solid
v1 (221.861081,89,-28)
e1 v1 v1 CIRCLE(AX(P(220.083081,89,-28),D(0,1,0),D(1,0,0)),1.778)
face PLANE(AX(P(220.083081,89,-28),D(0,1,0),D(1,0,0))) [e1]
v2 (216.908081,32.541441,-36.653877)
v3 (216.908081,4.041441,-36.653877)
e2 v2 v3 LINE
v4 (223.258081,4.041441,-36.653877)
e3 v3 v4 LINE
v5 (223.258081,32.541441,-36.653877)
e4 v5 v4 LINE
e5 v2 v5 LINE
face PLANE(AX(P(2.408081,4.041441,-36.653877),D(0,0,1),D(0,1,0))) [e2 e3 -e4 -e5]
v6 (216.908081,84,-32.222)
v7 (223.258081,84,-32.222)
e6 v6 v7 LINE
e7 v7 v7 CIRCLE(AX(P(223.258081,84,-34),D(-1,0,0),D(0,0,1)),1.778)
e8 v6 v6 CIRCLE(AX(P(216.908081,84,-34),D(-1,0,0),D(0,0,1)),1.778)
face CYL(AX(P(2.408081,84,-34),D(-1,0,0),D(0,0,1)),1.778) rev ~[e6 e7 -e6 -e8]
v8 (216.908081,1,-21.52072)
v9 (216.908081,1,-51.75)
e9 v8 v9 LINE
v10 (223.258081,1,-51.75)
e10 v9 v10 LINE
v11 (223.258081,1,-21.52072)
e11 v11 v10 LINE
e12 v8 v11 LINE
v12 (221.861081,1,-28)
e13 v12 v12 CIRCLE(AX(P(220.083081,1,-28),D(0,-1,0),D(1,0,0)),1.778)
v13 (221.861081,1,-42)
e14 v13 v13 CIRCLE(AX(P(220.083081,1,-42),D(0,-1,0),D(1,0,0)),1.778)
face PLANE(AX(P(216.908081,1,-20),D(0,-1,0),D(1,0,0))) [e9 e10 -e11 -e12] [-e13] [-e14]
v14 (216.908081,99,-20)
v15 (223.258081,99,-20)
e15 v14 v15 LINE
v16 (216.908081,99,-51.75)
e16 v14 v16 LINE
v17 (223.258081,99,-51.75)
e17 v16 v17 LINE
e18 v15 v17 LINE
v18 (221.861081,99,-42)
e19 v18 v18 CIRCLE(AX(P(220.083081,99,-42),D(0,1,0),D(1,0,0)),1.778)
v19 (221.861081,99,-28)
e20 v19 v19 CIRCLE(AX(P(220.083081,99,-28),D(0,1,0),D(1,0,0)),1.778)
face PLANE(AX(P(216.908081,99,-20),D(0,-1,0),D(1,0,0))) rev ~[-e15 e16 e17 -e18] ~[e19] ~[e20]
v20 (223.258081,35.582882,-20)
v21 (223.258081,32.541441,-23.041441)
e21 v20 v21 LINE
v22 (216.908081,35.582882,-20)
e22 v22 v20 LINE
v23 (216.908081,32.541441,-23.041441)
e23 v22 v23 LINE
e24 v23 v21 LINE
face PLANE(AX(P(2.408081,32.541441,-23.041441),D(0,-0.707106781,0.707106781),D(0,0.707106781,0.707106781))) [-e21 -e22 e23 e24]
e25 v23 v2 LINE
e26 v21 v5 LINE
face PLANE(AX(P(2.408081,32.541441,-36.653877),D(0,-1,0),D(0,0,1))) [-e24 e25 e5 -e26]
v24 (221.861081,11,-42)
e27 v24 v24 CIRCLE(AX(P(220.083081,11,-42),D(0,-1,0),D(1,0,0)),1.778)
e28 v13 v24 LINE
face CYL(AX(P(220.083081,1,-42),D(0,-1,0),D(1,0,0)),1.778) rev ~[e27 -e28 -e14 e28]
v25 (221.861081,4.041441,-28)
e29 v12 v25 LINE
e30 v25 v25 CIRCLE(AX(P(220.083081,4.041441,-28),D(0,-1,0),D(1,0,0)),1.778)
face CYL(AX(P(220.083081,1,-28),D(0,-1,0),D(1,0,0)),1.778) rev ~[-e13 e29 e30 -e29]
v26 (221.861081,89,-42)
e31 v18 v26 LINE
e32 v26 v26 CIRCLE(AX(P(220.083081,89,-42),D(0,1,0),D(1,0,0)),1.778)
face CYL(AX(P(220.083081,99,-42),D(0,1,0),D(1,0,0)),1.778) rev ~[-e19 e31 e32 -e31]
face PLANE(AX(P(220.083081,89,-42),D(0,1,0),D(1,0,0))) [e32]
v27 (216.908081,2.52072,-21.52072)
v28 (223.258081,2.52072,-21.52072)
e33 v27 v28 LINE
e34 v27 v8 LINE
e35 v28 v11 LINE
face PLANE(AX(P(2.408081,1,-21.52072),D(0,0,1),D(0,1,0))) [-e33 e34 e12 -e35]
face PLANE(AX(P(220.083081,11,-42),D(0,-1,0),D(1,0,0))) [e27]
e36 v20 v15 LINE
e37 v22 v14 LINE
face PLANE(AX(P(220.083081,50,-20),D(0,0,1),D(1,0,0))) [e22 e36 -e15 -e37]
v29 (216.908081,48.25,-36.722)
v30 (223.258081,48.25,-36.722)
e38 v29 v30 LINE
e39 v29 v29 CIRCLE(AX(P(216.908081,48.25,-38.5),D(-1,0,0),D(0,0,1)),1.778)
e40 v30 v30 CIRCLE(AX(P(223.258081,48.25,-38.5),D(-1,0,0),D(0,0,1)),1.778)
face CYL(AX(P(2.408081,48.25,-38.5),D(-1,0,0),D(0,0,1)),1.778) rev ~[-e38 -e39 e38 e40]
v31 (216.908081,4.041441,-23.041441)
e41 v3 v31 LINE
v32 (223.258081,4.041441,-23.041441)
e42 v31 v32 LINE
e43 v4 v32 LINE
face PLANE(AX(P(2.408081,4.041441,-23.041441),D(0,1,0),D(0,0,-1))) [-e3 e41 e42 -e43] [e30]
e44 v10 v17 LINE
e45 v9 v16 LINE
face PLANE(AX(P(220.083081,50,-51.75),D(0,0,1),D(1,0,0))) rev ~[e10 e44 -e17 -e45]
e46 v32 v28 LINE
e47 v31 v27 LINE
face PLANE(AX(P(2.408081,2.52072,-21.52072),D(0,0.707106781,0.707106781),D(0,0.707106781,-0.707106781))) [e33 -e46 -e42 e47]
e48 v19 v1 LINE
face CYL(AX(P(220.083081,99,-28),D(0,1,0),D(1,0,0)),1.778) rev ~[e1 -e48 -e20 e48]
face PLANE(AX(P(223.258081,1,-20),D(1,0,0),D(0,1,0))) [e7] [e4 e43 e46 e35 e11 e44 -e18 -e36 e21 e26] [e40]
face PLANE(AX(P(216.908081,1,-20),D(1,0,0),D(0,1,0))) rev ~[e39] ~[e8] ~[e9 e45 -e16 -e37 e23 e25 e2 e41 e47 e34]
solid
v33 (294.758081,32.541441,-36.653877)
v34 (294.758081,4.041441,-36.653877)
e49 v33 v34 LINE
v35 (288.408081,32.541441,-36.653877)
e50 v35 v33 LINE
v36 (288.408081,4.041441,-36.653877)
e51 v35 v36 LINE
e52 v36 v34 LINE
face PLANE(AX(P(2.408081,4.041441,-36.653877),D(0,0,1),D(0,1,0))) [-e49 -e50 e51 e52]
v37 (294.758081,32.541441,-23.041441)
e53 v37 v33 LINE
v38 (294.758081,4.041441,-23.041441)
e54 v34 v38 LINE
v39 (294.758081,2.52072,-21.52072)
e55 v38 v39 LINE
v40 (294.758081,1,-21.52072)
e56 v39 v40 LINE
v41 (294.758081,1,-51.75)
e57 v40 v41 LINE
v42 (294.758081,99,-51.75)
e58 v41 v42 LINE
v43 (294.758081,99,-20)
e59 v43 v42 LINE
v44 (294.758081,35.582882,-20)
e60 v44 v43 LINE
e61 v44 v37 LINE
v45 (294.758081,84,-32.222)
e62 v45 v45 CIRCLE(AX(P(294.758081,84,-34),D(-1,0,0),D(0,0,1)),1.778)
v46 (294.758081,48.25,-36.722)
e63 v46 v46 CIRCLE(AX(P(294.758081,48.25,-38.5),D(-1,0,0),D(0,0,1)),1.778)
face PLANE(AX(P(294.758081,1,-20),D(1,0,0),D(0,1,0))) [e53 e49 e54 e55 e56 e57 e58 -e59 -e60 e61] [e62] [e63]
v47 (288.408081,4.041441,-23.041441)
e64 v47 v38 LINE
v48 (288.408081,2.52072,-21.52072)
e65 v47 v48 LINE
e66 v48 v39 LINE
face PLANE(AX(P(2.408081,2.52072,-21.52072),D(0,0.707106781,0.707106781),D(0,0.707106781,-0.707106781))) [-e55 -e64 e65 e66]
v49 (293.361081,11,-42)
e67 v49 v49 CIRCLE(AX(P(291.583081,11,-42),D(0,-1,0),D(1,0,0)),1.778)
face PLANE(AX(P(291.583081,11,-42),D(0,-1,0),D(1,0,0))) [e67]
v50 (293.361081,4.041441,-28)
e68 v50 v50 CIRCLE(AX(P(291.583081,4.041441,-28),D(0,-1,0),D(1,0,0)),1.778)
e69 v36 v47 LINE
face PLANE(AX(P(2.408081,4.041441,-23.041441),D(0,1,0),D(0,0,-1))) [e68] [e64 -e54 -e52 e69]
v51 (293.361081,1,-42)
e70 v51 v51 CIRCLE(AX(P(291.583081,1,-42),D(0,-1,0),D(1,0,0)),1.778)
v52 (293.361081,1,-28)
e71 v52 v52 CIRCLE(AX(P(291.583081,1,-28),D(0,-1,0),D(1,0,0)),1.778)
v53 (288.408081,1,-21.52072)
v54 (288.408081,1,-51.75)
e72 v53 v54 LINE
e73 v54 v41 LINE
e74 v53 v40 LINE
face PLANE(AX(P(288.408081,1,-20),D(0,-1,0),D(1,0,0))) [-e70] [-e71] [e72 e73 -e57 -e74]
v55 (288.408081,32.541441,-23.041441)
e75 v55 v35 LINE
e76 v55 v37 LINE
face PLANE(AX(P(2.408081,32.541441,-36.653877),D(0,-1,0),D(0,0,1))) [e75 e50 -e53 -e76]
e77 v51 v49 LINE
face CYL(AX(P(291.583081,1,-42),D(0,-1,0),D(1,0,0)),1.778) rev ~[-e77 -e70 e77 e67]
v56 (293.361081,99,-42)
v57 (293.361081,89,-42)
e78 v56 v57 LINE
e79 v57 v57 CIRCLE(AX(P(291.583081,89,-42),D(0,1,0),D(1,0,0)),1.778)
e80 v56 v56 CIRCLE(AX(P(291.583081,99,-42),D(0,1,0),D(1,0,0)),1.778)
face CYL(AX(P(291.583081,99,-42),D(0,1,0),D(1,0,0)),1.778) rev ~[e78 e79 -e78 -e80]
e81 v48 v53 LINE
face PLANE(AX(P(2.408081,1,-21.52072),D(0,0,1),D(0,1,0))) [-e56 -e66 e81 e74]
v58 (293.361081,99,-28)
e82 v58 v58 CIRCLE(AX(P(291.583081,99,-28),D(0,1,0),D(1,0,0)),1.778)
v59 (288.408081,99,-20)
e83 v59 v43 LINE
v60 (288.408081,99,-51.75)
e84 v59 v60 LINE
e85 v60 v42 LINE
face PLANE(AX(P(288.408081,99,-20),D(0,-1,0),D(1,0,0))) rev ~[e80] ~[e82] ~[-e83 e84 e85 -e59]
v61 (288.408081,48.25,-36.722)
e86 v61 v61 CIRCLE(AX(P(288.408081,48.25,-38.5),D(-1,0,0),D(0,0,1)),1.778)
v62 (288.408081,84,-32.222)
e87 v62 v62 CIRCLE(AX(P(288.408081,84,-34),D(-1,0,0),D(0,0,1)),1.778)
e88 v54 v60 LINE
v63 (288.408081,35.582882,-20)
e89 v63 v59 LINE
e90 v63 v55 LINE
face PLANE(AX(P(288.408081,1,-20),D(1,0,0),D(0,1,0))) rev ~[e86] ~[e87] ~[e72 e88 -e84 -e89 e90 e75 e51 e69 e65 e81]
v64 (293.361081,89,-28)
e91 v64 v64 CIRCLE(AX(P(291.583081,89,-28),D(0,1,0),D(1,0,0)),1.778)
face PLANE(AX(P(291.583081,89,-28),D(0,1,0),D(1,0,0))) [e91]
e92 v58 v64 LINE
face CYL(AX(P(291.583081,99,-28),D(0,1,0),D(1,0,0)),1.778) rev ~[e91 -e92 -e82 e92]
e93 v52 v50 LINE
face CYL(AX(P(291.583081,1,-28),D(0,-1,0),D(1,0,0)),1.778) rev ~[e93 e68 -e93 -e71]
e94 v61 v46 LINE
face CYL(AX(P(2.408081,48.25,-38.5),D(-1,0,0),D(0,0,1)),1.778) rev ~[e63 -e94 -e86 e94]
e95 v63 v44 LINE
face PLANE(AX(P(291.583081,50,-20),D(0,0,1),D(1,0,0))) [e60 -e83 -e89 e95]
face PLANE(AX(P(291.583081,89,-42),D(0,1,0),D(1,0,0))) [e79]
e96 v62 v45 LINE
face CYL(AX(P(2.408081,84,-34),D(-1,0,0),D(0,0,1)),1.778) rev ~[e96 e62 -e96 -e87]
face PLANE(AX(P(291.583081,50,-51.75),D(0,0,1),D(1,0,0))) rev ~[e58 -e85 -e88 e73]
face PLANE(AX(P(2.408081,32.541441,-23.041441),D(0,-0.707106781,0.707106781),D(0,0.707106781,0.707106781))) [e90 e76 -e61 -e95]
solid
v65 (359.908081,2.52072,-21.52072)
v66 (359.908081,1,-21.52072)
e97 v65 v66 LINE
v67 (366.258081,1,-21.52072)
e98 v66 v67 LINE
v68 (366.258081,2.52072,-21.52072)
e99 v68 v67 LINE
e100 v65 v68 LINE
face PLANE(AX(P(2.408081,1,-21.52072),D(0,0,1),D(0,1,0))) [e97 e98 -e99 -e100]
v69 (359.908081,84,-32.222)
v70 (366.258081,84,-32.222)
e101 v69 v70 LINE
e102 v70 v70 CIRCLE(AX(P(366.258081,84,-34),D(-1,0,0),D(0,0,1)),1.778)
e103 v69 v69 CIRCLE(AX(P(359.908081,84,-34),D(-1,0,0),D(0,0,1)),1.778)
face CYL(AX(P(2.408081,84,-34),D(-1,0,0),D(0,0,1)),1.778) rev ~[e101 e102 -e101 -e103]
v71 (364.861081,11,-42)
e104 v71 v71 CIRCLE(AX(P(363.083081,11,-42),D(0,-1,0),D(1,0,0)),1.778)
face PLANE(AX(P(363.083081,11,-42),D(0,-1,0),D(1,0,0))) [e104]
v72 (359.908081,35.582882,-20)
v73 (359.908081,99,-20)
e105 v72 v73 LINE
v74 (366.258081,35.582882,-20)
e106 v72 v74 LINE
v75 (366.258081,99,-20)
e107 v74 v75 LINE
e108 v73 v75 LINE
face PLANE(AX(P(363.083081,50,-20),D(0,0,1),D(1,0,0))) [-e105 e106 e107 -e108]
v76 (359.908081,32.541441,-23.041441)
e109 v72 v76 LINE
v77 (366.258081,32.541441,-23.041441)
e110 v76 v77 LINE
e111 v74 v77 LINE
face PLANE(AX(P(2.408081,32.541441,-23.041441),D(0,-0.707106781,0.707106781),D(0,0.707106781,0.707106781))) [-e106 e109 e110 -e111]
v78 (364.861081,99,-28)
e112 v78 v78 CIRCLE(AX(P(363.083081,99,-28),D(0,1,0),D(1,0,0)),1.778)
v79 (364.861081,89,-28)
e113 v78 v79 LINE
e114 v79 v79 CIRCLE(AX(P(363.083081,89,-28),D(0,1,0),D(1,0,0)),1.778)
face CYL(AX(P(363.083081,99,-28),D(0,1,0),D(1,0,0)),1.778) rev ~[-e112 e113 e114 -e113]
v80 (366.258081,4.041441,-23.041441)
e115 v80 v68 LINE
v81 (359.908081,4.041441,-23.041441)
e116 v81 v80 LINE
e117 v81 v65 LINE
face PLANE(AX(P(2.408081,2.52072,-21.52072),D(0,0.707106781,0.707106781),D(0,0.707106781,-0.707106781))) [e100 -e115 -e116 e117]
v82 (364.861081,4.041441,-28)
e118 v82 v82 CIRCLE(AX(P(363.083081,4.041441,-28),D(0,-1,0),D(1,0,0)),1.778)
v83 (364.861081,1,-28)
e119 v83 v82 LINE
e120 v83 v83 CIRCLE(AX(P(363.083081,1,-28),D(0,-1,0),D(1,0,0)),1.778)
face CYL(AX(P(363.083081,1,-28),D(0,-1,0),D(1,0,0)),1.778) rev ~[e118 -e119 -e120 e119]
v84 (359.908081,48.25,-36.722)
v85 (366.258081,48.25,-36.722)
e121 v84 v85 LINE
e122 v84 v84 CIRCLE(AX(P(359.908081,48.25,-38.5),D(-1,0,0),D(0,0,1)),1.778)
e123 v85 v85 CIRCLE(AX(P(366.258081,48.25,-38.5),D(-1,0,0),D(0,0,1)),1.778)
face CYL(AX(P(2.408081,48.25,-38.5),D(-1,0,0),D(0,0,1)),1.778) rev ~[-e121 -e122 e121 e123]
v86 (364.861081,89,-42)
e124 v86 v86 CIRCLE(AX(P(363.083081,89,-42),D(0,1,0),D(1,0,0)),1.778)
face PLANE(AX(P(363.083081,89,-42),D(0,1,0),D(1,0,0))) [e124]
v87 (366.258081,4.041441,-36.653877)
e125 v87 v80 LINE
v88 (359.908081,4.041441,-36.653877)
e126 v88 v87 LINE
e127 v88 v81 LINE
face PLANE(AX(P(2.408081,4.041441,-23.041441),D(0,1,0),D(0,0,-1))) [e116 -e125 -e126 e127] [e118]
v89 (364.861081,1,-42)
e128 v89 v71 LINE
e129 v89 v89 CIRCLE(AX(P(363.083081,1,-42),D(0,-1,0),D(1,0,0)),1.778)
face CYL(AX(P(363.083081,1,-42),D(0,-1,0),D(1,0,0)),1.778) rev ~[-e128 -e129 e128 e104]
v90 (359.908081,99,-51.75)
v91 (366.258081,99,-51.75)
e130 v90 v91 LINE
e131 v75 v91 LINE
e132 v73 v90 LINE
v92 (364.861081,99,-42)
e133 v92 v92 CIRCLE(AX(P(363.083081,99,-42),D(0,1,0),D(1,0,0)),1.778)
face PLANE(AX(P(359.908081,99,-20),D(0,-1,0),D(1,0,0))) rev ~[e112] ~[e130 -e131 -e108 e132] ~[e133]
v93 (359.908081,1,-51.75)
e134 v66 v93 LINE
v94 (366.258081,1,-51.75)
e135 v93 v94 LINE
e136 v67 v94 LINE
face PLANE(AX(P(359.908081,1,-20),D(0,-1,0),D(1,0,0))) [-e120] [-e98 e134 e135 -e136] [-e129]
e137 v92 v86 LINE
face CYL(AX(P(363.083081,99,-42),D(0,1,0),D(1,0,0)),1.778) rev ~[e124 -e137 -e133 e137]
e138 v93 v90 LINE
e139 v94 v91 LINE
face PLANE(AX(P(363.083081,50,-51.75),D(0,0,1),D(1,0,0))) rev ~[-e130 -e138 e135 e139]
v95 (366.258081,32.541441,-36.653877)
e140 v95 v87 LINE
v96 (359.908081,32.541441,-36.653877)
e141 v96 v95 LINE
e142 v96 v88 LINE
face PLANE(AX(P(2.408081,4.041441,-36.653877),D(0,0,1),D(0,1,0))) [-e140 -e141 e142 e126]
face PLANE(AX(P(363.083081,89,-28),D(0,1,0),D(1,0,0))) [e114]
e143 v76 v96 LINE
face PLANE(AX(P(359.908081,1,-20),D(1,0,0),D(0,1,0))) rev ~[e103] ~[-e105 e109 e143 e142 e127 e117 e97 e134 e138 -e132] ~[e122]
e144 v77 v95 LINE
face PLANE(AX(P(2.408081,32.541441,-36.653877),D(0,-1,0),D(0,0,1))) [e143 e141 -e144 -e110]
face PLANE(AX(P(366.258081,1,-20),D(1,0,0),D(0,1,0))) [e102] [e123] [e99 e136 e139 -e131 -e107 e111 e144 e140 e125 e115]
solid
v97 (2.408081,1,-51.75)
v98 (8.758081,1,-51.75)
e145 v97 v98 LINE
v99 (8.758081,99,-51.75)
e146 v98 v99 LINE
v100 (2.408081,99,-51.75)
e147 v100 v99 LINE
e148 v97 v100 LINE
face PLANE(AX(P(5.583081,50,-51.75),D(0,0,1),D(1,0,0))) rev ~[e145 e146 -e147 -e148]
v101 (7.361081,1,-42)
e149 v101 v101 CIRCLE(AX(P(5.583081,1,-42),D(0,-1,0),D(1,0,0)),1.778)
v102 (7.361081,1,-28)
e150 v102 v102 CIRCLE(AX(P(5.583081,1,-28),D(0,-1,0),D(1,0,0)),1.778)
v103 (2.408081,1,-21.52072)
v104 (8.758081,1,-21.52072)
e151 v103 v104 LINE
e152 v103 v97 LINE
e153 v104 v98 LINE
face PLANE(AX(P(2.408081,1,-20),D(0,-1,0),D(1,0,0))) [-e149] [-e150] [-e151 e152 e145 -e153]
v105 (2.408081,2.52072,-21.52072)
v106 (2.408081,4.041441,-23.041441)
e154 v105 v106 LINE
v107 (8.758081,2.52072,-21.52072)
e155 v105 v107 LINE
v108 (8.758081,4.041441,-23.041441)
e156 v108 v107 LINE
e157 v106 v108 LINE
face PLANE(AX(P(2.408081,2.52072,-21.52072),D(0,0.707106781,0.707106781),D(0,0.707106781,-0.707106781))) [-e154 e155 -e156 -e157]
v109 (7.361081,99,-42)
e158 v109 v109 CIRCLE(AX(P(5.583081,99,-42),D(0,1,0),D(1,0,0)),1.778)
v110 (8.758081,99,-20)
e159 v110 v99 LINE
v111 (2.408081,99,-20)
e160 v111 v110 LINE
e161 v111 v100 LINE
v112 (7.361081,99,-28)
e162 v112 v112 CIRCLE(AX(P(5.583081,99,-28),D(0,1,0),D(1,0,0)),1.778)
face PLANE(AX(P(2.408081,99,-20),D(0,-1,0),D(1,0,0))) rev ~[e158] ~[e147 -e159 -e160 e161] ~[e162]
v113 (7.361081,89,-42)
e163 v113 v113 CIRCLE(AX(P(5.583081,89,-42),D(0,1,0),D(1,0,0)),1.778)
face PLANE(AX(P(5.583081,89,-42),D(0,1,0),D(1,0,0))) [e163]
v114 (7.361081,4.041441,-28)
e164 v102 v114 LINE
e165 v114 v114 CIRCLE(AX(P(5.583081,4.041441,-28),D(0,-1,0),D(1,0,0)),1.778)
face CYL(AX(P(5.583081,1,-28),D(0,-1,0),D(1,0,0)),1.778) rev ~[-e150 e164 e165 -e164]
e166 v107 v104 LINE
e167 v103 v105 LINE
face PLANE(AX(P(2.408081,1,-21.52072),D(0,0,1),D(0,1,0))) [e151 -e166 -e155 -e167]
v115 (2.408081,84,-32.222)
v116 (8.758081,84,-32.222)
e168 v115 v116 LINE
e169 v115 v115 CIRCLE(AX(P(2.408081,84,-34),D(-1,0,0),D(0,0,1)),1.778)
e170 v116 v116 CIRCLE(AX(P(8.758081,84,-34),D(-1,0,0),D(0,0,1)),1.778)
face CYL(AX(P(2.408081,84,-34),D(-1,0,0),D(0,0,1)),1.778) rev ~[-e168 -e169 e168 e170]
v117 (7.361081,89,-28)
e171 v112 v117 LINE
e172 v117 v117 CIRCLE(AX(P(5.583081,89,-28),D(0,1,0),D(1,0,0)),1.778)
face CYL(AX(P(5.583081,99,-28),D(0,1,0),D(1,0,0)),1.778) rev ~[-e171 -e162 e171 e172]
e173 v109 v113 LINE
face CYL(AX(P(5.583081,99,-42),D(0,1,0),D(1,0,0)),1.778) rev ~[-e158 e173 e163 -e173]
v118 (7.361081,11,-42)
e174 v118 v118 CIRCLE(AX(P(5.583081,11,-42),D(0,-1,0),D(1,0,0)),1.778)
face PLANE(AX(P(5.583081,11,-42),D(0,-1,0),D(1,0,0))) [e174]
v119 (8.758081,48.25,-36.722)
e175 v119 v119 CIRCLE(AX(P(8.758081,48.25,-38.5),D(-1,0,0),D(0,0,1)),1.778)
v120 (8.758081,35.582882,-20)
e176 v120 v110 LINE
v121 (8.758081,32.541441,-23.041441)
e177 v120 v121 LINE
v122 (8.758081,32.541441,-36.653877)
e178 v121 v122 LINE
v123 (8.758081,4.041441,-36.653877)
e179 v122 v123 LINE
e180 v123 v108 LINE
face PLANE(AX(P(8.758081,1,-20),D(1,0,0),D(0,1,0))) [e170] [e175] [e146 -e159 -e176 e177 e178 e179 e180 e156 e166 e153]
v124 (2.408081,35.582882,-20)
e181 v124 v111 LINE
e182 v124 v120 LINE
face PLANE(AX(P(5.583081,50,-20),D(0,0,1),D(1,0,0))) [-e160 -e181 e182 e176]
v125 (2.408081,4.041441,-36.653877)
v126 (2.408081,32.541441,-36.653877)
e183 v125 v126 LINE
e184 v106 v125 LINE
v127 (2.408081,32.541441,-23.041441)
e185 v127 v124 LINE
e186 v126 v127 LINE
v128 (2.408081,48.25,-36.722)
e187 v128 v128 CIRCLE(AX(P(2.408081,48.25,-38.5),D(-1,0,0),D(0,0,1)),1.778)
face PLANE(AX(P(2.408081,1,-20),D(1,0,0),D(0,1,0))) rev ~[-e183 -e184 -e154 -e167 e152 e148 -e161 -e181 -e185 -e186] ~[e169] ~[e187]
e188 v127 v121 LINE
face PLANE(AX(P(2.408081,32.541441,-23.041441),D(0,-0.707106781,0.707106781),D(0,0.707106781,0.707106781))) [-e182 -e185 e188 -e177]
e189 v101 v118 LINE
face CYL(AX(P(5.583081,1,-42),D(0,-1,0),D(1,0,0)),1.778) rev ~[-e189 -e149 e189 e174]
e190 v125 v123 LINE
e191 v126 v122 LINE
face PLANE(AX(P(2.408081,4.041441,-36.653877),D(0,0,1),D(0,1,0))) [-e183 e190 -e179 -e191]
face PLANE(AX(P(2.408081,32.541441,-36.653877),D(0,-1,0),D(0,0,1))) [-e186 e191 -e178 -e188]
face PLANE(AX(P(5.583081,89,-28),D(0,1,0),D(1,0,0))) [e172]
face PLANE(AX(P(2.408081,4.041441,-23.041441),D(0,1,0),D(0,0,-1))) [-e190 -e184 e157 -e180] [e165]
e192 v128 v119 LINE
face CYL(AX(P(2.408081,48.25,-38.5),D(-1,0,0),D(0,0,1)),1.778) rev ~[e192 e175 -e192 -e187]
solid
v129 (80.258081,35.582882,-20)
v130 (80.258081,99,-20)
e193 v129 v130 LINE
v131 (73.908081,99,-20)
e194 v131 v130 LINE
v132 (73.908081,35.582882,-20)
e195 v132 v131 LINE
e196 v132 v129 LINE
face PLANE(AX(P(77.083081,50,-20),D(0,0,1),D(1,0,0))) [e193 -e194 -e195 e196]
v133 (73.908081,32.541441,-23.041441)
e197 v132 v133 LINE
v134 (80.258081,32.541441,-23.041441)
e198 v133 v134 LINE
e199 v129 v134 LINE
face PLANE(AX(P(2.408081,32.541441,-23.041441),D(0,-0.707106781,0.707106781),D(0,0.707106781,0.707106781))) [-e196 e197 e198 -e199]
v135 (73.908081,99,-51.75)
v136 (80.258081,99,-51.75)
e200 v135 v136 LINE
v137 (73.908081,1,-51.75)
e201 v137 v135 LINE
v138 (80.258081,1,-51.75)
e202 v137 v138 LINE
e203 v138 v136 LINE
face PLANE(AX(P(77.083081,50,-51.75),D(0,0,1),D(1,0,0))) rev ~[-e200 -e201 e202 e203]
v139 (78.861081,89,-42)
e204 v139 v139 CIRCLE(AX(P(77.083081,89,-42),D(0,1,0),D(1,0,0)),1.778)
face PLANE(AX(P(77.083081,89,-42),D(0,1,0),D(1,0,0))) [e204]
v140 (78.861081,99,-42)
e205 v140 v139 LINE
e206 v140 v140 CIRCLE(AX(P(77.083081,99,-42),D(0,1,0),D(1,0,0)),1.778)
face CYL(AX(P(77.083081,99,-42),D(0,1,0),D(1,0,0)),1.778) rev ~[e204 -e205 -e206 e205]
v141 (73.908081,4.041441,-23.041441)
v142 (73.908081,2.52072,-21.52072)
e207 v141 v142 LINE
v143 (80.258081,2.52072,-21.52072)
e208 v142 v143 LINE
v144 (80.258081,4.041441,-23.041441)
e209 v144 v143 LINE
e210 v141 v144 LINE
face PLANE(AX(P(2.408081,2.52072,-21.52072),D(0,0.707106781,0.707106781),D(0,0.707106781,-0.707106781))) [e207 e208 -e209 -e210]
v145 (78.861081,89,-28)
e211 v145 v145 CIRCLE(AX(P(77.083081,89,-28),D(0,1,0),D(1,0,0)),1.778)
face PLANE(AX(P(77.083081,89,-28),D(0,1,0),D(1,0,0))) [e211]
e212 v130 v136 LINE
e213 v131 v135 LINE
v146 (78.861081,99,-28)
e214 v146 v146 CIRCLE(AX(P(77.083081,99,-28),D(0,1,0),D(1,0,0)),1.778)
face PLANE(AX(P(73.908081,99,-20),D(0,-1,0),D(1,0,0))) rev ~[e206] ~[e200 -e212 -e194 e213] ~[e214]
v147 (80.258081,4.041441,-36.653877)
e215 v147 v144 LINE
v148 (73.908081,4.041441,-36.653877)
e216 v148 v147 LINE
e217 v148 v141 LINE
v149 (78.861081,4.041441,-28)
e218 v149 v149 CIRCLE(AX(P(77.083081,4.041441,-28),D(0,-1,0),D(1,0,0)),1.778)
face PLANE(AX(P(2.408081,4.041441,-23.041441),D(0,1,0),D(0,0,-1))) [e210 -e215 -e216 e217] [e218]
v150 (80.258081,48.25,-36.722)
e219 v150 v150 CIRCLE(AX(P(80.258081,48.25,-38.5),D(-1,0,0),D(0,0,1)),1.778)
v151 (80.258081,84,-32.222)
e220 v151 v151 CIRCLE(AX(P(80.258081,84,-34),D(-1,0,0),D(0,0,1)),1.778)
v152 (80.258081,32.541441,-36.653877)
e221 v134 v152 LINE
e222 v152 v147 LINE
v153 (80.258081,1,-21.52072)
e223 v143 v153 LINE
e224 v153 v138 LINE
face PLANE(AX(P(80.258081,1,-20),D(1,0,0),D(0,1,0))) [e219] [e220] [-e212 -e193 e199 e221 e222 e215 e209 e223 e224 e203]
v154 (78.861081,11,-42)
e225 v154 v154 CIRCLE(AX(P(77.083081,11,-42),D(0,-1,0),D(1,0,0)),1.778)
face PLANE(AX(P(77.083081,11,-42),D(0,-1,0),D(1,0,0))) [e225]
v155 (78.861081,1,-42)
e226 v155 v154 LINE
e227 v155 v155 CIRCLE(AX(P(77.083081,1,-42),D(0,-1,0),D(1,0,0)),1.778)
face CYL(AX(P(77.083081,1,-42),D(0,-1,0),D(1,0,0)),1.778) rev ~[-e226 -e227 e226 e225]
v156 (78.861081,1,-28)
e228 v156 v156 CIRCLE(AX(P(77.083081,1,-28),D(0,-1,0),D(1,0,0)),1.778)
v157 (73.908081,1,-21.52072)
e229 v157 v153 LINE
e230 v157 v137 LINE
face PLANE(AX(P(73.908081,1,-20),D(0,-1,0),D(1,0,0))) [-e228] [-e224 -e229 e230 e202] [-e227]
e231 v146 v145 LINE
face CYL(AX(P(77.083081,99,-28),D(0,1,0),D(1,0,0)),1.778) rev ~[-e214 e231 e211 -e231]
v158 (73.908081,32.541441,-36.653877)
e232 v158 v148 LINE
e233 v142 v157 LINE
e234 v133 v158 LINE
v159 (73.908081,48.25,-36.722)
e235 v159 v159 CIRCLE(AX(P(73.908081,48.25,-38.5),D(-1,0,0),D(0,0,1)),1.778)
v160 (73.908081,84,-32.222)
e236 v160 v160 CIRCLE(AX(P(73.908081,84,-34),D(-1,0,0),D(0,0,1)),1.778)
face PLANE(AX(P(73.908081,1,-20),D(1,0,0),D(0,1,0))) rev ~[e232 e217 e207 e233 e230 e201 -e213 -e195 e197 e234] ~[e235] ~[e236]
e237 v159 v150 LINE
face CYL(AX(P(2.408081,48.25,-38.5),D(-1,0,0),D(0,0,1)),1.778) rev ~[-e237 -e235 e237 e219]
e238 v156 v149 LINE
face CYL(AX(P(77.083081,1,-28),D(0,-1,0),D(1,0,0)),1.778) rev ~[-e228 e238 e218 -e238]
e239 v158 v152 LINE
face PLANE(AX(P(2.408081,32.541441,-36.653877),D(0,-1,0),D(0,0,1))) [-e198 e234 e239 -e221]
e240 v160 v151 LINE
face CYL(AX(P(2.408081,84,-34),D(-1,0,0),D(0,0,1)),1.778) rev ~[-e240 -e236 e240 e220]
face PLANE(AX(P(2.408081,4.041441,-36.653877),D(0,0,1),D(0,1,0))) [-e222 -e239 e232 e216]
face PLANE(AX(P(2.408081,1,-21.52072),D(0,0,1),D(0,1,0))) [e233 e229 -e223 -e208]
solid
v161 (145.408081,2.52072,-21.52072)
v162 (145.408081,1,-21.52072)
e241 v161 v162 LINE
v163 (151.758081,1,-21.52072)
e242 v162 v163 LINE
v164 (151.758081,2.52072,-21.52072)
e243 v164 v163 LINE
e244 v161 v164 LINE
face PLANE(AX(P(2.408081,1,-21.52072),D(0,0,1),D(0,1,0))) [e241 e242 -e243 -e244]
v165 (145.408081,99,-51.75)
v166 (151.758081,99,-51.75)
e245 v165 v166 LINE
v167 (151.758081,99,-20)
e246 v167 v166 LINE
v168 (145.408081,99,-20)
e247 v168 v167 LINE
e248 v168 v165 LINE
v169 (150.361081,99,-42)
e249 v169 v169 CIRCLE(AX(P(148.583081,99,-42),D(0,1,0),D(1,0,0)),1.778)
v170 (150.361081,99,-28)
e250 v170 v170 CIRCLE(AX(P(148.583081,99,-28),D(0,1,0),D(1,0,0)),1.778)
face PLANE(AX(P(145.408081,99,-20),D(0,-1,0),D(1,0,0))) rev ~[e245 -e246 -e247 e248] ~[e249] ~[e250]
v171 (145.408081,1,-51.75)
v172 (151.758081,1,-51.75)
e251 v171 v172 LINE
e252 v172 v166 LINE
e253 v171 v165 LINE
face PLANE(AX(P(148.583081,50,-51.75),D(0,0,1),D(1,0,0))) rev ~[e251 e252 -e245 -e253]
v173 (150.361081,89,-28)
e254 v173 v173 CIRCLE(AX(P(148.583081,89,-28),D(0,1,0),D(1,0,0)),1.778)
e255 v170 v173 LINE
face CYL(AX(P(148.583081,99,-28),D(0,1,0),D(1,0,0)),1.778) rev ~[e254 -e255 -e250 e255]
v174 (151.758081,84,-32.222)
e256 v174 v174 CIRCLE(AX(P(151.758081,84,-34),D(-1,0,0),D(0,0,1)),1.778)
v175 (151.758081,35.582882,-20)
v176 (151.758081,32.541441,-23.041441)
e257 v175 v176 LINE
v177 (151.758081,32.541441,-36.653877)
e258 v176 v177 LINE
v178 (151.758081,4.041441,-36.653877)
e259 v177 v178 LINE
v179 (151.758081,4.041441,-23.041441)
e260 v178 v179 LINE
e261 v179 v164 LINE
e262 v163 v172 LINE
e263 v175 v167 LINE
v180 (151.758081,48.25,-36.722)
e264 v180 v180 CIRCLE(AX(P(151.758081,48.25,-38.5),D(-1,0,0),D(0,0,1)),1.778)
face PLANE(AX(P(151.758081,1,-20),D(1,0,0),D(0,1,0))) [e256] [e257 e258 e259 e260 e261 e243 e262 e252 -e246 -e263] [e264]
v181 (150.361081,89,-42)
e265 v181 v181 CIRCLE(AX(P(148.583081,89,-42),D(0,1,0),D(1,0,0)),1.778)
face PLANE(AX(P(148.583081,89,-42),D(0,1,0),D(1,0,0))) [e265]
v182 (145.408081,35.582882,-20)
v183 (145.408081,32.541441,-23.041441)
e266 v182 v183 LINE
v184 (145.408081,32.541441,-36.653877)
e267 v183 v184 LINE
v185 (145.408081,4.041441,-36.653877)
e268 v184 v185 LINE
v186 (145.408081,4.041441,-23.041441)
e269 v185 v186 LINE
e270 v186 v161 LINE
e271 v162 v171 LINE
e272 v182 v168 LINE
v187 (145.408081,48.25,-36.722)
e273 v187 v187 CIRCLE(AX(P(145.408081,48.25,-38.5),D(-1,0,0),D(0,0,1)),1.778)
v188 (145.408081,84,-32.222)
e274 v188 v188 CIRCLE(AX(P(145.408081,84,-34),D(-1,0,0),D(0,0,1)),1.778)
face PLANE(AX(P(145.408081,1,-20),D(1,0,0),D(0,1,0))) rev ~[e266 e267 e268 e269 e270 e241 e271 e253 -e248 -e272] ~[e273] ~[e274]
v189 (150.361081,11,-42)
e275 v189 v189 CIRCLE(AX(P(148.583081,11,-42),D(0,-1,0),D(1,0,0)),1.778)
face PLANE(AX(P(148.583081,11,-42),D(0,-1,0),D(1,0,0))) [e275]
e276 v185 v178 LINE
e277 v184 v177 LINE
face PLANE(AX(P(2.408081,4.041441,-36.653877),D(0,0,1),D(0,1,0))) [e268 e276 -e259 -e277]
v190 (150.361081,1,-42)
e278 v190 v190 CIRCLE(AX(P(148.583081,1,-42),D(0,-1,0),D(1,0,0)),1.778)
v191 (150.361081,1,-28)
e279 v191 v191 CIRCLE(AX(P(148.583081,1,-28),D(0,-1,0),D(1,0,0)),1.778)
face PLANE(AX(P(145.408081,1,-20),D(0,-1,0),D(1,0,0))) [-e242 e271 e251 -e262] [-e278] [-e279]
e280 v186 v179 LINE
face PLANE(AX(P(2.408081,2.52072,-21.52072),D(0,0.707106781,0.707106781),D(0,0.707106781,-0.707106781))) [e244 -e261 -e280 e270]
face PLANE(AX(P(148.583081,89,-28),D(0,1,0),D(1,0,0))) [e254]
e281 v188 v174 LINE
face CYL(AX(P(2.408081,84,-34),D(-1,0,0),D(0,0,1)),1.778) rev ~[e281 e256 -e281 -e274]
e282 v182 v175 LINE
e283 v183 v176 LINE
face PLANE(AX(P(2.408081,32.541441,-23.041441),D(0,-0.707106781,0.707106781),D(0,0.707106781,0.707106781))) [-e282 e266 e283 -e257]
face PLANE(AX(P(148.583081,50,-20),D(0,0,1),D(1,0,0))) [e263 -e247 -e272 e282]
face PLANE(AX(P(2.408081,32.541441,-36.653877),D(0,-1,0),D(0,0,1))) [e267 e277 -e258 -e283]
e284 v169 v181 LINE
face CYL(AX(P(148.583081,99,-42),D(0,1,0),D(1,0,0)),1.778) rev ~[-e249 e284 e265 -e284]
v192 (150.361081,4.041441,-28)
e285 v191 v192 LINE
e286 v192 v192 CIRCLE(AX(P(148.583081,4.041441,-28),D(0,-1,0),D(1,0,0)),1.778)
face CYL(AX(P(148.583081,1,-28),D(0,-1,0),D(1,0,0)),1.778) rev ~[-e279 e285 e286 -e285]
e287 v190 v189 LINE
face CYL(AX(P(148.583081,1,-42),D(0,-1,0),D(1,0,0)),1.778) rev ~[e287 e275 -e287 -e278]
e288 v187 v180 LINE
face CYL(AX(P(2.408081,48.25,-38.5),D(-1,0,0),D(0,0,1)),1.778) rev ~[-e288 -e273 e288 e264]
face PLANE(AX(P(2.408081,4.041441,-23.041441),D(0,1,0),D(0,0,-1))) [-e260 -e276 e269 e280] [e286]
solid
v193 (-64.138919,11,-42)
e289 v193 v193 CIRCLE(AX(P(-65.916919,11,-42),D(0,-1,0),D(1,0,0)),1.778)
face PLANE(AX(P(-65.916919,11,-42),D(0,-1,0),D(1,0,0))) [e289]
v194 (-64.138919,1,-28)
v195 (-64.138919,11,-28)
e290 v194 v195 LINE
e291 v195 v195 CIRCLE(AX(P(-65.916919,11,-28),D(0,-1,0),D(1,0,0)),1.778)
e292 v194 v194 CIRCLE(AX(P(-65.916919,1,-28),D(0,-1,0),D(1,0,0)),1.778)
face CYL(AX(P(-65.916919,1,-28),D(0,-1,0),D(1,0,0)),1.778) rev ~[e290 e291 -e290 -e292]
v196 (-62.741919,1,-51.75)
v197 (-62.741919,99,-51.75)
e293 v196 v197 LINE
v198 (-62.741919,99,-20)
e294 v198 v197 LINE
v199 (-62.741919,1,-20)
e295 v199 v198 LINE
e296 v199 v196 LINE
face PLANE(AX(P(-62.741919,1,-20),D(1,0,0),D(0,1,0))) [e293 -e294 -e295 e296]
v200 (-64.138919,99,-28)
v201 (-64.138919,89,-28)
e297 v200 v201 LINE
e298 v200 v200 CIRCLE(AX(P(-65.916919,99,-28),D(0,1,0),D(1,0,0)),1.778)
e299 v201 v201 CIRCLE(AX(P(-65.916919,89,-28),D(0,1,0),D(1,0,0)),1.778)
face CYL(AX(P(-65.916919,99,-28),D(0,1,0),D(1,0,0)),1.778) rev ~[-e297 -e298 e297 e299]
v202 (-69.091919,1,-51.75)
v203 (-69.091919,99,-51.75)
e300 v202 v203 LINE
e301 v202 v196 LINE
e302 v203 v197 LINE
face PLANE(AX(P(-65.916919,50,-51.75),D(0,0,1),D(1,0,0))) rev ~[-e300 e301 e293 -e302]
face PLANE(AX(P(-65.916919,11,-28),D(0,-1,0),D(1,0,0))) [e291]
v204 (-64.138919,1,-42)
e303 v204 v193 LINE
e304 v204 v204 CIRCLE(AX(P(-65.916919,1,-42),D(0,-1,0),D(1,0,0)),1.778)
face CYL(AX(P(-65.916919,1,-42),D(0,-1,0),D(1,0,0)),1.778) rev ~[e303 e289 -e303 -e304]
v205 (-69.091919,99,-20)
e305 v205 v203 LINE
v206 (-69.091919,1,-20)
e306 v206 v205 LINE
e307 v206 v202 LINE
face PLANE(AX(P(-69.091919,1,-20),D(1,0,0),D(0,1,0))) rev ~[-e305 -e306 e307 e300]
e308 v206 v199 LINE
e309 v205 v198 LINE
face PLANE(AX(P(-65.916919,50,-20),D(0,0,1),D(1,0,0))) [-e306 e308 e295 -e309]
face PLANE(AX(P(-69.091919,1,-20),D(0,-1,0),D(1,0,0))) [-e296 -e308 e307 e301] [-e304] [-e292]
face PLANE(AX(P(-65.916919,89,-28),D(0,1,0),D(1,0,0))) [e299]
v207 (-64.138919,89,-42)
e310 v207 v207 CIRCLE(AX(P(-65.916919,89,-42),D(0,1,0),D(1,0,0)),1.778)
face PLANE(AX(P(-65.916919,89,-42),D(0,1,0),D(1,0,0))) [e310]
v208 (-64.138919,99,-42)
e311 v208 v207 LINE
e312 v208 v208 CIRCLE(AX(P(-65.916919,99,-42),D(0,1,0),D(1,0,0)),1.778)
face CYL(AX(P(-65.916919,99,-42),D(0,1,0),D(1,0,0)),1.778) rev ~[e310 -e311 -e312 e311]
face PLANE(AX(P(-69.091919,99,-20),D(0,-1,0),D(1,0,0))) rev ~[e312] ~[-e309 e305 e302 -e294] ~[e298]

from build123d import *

# Parameters (mm, degrees)
SKETCH2_W             = 6.35
SKETCH2_H             = 98
BOSS_EXTRUDE1_DEPTH   = 31.75
BOSS_EXTRUDE1_2_DEPTH = 31.75
BOSS_EXTRUDE1_3_DEPTH = 31.75
BOSS_EXTRUDE1_4_DEPTH = 31.75
BOSS_EXTRUDE1_5_DEPTH = 31.75
BOSS_EXTRUDE1_6_DEPTH = 31.75
BOSS_EXTRUDE1_7_DEPTH = 31.75
SKETCH3_R             = 1.778
CUT_EXTRUDE1_DEPTH    = 10
SKETCH4_R             = 1.778
CUT_EXTRUDE2_DEPTH    = 10
CUT_EXTRUDE3_DEPTH    = 364.85
SKETCH6_R             = 1.778
CUT_EXTRUDE4_DEPTH    = 364.85


with BuildPart() as part:
    # Sketch2 → Boss-Extrude1 (new body)
    with BuildSketch(Plane.XY.offset(-20)):
        with Locations((-65.916918949, 50)):
            Rectangle(SKETCH2_W, SKETCH2_H)
    extrude(amount=-BOSS_EXTRUDE1_DEPTH)


with BuildPart() as body_2:
    # Sketch2 → Boss-Extrude1 2 (new body)
    with BuildSketch(Plane.XY.offset(-20)):
        with Locations((5.583081051, 50)):
            Rectangle(SKETCH2_W, SKETCH2_H)
    extrude(amount=-BOSS_EXTRUDE1_2_DEPTH)


with BuildPart() as body_3:
    # Sketch2 → Boss-Extrude1 3 (new body)
    with BuildSketch(Plane.XY.offset(-20)):
        with Locations((77.083081051, 50)):
            Rectangle(SKETCH2_W, SKETCH2_H)
    extrude(amount=-BOSS_EXTRUDE1_3_DEPTH)


with BuildPart() as body_4:
    # Sketch2 → Boss-Extrude1 4 (new body)
    with BuildSketch(Plane.XY.offset(-20)):
        with Locations((148.583081051, 50)):
            Rectangle(SKETCH2_W, SKETCH2_H)
    extrude(amount=-BOSS_EXTRUDE1_4_DEPTH)


with BuildPart() as body_5:
    # Sketch2 → Boss-Extrude1 5 (new body)
    with BuildSketch(Plane.XY.offset(-20)):
        with Locations((220.083081051, 50)):
            Rectangle(SKETCH2_W, SKETCH2_H)
    extrude(amount=-BOSS_EXTRUDE1_5_DEPTH)


with BuildPart() as body_6:
    # Sketch2 → Boss-Extrude1 6 (new body)
    with BuildSketch(Plane.XY.offset(-20)):
        with Locations((291.583081051, 50)):
            Rectangle(SKETCH2_W, SKETCH2_H)
    extrude(amount=-BOSS_EXTRUDE1_6_DEPTH)


with BuildPart() as body_7:
    # Sketch2 → Boss-Extrude1 7 (new body)
    with BuildSketch(Plane.XY.offset(-20)):
        with Locations((363.083081051, 50)):
            Rectangle(SKETCH2_W, SKETCH2_H)
    extrude(amount=-BOSS_EXTRUDE1_7_DEPTH)


with BuildPart() as cut_extrude1_tool:
    # Sketch3 → Cut-Extrude1 (new body)
    with BuildSketch(Plane.XZ.offset(-1)):
        with Locations((-65.916918949, -28)):
            Circle(SKETCH3_R)
        with Locations((-65.916918949, -42)):
            Circle(SKETCH3_R)
        with Locations((5.583081051, -28)):
            Circle(SKETCH3_R)
        with Locations((5.583081051, -42)):
            Circle(SKETCH3_R)
        with Locations((77.083081051, -28)):
            Circle(SKETCH3_R)
        with Locations((77.083081051, -42)):
            Circle(SKETCH3_R)
        with Locations((148.583081051, -28)):
            Circle(SKETCH3_R)
        with Locations((148.583081051, -42)):
            Circle(SKETCH3_R)
        with Locations((220.083081051, -28)):
            Circle(SKETCH3_R)
        with Locations((220.083081051, -42)):
            Circle(SKETCH3_R)
        with Locations((291.583081051, -28)):
            Circle(SKETCH3_R)
        with Locations((291.583081051, -42)):
            Circle(SKETCH3_R)
        with Locations((363.083081051, -28)):
            Circle(SKETCH3_R)
        with Locations((363.083081051, -42)):
            Circle(SKETCH3_R)
    extrude(amount=-CUT_EXTRUDE1_DEPTH)


with BuildPart() as part_1:
    add(part.part)

    # Cut-Extrude1: cut by cut_extrude1_tool
    add(cut_extrude1_tool.part, mode=Mode.SUBTRACT)


with BuildPart() as body_2_1:
    add(body_2.part)

    # Cut-Extrude1: cut by cut_extrude1_tool
    add(cut_extrude1_tool.part, mode=Mode.SUBTRACT)


with BuildPart() as body_3_1:
    add(body_3.part)

    # Cut-Extrude1: cut by cut_extrude1_tool
    add(cut_extrude1_tool.part, mode=Mode.SUBTRACT)


with BuildPart() as body_4_1:
    add(body_4.part)

    # Cut-Extrude1: cut by cut_extrude1_tool
    add(cut_extrude1_tool.part, mode=Mode.SUBTRACT)


with BuildPart() as body_5_1:
    add(body_5.part)

    # Cut-Extrude1: cut by cut_extrude1_tool
    add(cut_extrude1_tool.part, mode=Mode.SUBTRACT)


with BuildPart() as body_6_1:
    add(body_6.part)

    # Cut-Extrude1: cut by cut_extrude1_tool
    add(cut_extrude1_tool.part, mode=Mode.SUBTRACT)


with BuildPart() as body_7_1:
    add(body_7.part)

    # Cut-Extrude1: cut by cut_extrude1_tool
    add(cut_extrude1_tool.part, mode=Mode.SUBTRACT)


with BuildPart() as cut_extrude2_tool:
    # Sketch4 → Cut-Extrude2 (new body)
    with BuildSketch(Plane(origin=(0, 99, 0), x_dir=(1, 0, 0), z_dir=(0, 1, 0))):
        with Locations((-65.916918949, 42)):
            Circle(SKETCH4_R)
        with Locations((-65.916918949, 28)):
            Circle(SKETCH4_R)
        with Locations((5.583081051, 42)):
            Circle(SKETCH4_R)
        with Locations((5.583081051, 28)):
            Circle(SKETCH4_R)
        with Locations((77.083081051, 42)):
            Circle(SKETCH4_R)
        with Locations((77.083081051, 28)):
            Circle(SKETCH4_R)
        with Locations((148.583081051, 42)):
            Circle(SKETCH4_R)
        with Locations((148.583081051, 28)):
            Circle(SKETCH4_R)
        with Locations((220.083081051, 42)):
            Circle(SKETCH4_R)
        with Locations((220.083081051, 28)):
            Circle(SKETCH4_R)
        with Locations((291.583081051, 42)):
            Circle(SKETCH4_R)
        with Locations((291.583081051, 28)):
            Circle(SKETCH4_R)
        with Locations((363.083081051, 42)):
            Circle(SKETCH4_R)
        with Locations((363.083081051, 28)):
            Circle(SKETCH4_R)
    extrude(amount=-CUT_EXTRUDE2_DEPTH)


with BuildPart() as part_2:
    add(part_1.part)

    # Cut-Extrude2: cut by cut_extrude2_tool
    add(cut_extrude2_tool.part, mode=Mode.SUBTRACT)


with BuildPart() as body_2_2:
    add(body_2_1.part)

    # Cut-Extrude2: cut by cut_extrude2_tool
    add(cut_extrude2_tool.part, mode=Mode.SUBTRACT)


with BuildPart() as body_3_2:
    add(body_3_1.part)

    # Cut-Extrude2: cut by cut_extrude2_tool
    add(cut_extrude2_tool.part, mode=Mode.SUBTRACT)


with BuildPart() as body_4_2:
    add(body_4_1.part)

    # Cut-Extrude2: cut by cut_extrude2_tool
    add(cut_extrude2_tool.part, mode=Mode.SUBTRACT)


with BuildPart() as body_5_2:
    add(body_5_1.part)

    # Cut-Extrude2: cut by cut_extrude2_tool
    add(cut_extrude2_tool.part, mode=Mode.SUBTRACT)


with BuildPart() as body_6_2:
    add(body_6_1.part)

    # Cut-Extrude2: cut by cut_extrude2_tool
    add(cut_extrude2_tool.part, mode=Mode.SUBTRACT)


with BuildPart() as body_7_2:
    add(body_7_1.part)

    # Cut-Extrude2: cut by cut_extrude2_tool
    add(cut_extrude2_tool.part, mode=Mode.SUBTRACT)


with BuildPart() as cut_extrude3_tool:
    # Sketch5 → Cut-Extrude3 (new body, through all)
    with BuildSketch(Plane.ZY.offset(-2.408081051)):
        Polygon((-20, 32.541440797), (-20, 4.041440797), (-20, 1), (-21.520720398, 1), (-21.520720398, 2.520720398), (-23.041440797, 4.041440797), (-36.653876694, 4.041440797), (-36.653876694, 32.541440797), (-23.041440797, 32.541440797), (-20, 35.582881594), align=None)
    extrude(amount=-CUT_EXTRUDE3_DEPTH)


with BuildPart() as body_2_3:
    add(body_2_2.part)

    # Cut-Extrude3: cut by cut_extrude3_tool
    add(cut_extrude3_tool.part, mode=Mode.SUBTRACT)


with BuildPart() as body_3_3:
    add(body_3_2.part)

    # Cut-Extrude3: cut by cut_extrude3_tool
    add(cut_extrude3_tool.part, mode=Mode.SUBTRACT)


with BuildPart() as body_4_3:
    add(body_4_2.part)

    # Cut-Extrude3: cut by cut_extrude3_tool
    add(cut_extrude3_tool.part, mode=Mode.SUBTRACT)


with BuildPart() as body_5_3:
    add(body_5_2.part)

    # Cut-Extrude3: cut by cut_extrude3_tool
    add(cut_extrude3_tool.part, mode=Mode.SUBTRACT)


with BuildPart() as body_6_3:
    add(body_6_2.part)

    # Cut-Extrude3: cut by cut_extrude3_tool
    add(cut_extrude3_tool.part, mode=Mode.SUBTRACT)


with BuildPart() as body_7_3:
    add(body_7_2.part)

    # Cut-Extrude3: cut by cut_extrude3_tool
    add(cut_extrude3_tool.part, mode=Mode.SUBTRACT)


with BuildPart() as cut_extrude4_tool:
    # Sketch6 → Cut-Extrude4 (new body, through all)
    with BuildSketch(Plane.ZY.offset(-2.408081051)):
        with Locations((-38.5, 48.25)):
            Circle(SKETCH6_R)
        with Locations((-34, 84)):
            Circle(SKETCH6_R)
    extrude(amount=-CUT_EXTRUDE4_DEPTH)


with BuildPart() as body_2_4:
    add(body_2_3.part)

    # Cut-Extrude4: cut by cut_extrude4_tool
    add(cut_extrude4_tool.part, mode=Mode.SUBTRACT)


with BuildPart() as body_3_4:
    add(body_3_3.part)

    # Cut-Extrude4: cut by cut_extrude4_tool
    add(cut_extrude4_tool.part, mode=Mode.SUBTRACT)


with BuildPart() as body_4_4:
    add(body_4_3.part)

    # Cut-Extrude4: cut by cut_extrude4_tool
    add(cut_extrude4_tool.part, mode=Mode.SUBTRACT)


with BuildPart() as body_5_4:
    add(body_5_3.part)

    # Cut-Extrude4: cut by cut_extrude4_tool
    add(cut_extrude4_tool.part, mode=Mode.SUBTRACT)


with BuildPart() as body_6_4:
    add(body_6_3.part)

    # Cut-Extrude4: cut by cut_extrude4_tool
    add(cut_extrude4_tool.part, mode=Mode.SUBTRACT)


with BuildPart() as body_7_4:
    add(body_7_3.part)

    # Cut-Extrude4: cut by cut_extrude4_tool
    add(cut_extrude4_tool.part, mode=Mode.SUBTRACT)


solid = Compound([part_2.part, body_2_4.part, body_3_4.part, body_4_4.part, body_5_4.part, body_6_4.part, body_7_4.part])
